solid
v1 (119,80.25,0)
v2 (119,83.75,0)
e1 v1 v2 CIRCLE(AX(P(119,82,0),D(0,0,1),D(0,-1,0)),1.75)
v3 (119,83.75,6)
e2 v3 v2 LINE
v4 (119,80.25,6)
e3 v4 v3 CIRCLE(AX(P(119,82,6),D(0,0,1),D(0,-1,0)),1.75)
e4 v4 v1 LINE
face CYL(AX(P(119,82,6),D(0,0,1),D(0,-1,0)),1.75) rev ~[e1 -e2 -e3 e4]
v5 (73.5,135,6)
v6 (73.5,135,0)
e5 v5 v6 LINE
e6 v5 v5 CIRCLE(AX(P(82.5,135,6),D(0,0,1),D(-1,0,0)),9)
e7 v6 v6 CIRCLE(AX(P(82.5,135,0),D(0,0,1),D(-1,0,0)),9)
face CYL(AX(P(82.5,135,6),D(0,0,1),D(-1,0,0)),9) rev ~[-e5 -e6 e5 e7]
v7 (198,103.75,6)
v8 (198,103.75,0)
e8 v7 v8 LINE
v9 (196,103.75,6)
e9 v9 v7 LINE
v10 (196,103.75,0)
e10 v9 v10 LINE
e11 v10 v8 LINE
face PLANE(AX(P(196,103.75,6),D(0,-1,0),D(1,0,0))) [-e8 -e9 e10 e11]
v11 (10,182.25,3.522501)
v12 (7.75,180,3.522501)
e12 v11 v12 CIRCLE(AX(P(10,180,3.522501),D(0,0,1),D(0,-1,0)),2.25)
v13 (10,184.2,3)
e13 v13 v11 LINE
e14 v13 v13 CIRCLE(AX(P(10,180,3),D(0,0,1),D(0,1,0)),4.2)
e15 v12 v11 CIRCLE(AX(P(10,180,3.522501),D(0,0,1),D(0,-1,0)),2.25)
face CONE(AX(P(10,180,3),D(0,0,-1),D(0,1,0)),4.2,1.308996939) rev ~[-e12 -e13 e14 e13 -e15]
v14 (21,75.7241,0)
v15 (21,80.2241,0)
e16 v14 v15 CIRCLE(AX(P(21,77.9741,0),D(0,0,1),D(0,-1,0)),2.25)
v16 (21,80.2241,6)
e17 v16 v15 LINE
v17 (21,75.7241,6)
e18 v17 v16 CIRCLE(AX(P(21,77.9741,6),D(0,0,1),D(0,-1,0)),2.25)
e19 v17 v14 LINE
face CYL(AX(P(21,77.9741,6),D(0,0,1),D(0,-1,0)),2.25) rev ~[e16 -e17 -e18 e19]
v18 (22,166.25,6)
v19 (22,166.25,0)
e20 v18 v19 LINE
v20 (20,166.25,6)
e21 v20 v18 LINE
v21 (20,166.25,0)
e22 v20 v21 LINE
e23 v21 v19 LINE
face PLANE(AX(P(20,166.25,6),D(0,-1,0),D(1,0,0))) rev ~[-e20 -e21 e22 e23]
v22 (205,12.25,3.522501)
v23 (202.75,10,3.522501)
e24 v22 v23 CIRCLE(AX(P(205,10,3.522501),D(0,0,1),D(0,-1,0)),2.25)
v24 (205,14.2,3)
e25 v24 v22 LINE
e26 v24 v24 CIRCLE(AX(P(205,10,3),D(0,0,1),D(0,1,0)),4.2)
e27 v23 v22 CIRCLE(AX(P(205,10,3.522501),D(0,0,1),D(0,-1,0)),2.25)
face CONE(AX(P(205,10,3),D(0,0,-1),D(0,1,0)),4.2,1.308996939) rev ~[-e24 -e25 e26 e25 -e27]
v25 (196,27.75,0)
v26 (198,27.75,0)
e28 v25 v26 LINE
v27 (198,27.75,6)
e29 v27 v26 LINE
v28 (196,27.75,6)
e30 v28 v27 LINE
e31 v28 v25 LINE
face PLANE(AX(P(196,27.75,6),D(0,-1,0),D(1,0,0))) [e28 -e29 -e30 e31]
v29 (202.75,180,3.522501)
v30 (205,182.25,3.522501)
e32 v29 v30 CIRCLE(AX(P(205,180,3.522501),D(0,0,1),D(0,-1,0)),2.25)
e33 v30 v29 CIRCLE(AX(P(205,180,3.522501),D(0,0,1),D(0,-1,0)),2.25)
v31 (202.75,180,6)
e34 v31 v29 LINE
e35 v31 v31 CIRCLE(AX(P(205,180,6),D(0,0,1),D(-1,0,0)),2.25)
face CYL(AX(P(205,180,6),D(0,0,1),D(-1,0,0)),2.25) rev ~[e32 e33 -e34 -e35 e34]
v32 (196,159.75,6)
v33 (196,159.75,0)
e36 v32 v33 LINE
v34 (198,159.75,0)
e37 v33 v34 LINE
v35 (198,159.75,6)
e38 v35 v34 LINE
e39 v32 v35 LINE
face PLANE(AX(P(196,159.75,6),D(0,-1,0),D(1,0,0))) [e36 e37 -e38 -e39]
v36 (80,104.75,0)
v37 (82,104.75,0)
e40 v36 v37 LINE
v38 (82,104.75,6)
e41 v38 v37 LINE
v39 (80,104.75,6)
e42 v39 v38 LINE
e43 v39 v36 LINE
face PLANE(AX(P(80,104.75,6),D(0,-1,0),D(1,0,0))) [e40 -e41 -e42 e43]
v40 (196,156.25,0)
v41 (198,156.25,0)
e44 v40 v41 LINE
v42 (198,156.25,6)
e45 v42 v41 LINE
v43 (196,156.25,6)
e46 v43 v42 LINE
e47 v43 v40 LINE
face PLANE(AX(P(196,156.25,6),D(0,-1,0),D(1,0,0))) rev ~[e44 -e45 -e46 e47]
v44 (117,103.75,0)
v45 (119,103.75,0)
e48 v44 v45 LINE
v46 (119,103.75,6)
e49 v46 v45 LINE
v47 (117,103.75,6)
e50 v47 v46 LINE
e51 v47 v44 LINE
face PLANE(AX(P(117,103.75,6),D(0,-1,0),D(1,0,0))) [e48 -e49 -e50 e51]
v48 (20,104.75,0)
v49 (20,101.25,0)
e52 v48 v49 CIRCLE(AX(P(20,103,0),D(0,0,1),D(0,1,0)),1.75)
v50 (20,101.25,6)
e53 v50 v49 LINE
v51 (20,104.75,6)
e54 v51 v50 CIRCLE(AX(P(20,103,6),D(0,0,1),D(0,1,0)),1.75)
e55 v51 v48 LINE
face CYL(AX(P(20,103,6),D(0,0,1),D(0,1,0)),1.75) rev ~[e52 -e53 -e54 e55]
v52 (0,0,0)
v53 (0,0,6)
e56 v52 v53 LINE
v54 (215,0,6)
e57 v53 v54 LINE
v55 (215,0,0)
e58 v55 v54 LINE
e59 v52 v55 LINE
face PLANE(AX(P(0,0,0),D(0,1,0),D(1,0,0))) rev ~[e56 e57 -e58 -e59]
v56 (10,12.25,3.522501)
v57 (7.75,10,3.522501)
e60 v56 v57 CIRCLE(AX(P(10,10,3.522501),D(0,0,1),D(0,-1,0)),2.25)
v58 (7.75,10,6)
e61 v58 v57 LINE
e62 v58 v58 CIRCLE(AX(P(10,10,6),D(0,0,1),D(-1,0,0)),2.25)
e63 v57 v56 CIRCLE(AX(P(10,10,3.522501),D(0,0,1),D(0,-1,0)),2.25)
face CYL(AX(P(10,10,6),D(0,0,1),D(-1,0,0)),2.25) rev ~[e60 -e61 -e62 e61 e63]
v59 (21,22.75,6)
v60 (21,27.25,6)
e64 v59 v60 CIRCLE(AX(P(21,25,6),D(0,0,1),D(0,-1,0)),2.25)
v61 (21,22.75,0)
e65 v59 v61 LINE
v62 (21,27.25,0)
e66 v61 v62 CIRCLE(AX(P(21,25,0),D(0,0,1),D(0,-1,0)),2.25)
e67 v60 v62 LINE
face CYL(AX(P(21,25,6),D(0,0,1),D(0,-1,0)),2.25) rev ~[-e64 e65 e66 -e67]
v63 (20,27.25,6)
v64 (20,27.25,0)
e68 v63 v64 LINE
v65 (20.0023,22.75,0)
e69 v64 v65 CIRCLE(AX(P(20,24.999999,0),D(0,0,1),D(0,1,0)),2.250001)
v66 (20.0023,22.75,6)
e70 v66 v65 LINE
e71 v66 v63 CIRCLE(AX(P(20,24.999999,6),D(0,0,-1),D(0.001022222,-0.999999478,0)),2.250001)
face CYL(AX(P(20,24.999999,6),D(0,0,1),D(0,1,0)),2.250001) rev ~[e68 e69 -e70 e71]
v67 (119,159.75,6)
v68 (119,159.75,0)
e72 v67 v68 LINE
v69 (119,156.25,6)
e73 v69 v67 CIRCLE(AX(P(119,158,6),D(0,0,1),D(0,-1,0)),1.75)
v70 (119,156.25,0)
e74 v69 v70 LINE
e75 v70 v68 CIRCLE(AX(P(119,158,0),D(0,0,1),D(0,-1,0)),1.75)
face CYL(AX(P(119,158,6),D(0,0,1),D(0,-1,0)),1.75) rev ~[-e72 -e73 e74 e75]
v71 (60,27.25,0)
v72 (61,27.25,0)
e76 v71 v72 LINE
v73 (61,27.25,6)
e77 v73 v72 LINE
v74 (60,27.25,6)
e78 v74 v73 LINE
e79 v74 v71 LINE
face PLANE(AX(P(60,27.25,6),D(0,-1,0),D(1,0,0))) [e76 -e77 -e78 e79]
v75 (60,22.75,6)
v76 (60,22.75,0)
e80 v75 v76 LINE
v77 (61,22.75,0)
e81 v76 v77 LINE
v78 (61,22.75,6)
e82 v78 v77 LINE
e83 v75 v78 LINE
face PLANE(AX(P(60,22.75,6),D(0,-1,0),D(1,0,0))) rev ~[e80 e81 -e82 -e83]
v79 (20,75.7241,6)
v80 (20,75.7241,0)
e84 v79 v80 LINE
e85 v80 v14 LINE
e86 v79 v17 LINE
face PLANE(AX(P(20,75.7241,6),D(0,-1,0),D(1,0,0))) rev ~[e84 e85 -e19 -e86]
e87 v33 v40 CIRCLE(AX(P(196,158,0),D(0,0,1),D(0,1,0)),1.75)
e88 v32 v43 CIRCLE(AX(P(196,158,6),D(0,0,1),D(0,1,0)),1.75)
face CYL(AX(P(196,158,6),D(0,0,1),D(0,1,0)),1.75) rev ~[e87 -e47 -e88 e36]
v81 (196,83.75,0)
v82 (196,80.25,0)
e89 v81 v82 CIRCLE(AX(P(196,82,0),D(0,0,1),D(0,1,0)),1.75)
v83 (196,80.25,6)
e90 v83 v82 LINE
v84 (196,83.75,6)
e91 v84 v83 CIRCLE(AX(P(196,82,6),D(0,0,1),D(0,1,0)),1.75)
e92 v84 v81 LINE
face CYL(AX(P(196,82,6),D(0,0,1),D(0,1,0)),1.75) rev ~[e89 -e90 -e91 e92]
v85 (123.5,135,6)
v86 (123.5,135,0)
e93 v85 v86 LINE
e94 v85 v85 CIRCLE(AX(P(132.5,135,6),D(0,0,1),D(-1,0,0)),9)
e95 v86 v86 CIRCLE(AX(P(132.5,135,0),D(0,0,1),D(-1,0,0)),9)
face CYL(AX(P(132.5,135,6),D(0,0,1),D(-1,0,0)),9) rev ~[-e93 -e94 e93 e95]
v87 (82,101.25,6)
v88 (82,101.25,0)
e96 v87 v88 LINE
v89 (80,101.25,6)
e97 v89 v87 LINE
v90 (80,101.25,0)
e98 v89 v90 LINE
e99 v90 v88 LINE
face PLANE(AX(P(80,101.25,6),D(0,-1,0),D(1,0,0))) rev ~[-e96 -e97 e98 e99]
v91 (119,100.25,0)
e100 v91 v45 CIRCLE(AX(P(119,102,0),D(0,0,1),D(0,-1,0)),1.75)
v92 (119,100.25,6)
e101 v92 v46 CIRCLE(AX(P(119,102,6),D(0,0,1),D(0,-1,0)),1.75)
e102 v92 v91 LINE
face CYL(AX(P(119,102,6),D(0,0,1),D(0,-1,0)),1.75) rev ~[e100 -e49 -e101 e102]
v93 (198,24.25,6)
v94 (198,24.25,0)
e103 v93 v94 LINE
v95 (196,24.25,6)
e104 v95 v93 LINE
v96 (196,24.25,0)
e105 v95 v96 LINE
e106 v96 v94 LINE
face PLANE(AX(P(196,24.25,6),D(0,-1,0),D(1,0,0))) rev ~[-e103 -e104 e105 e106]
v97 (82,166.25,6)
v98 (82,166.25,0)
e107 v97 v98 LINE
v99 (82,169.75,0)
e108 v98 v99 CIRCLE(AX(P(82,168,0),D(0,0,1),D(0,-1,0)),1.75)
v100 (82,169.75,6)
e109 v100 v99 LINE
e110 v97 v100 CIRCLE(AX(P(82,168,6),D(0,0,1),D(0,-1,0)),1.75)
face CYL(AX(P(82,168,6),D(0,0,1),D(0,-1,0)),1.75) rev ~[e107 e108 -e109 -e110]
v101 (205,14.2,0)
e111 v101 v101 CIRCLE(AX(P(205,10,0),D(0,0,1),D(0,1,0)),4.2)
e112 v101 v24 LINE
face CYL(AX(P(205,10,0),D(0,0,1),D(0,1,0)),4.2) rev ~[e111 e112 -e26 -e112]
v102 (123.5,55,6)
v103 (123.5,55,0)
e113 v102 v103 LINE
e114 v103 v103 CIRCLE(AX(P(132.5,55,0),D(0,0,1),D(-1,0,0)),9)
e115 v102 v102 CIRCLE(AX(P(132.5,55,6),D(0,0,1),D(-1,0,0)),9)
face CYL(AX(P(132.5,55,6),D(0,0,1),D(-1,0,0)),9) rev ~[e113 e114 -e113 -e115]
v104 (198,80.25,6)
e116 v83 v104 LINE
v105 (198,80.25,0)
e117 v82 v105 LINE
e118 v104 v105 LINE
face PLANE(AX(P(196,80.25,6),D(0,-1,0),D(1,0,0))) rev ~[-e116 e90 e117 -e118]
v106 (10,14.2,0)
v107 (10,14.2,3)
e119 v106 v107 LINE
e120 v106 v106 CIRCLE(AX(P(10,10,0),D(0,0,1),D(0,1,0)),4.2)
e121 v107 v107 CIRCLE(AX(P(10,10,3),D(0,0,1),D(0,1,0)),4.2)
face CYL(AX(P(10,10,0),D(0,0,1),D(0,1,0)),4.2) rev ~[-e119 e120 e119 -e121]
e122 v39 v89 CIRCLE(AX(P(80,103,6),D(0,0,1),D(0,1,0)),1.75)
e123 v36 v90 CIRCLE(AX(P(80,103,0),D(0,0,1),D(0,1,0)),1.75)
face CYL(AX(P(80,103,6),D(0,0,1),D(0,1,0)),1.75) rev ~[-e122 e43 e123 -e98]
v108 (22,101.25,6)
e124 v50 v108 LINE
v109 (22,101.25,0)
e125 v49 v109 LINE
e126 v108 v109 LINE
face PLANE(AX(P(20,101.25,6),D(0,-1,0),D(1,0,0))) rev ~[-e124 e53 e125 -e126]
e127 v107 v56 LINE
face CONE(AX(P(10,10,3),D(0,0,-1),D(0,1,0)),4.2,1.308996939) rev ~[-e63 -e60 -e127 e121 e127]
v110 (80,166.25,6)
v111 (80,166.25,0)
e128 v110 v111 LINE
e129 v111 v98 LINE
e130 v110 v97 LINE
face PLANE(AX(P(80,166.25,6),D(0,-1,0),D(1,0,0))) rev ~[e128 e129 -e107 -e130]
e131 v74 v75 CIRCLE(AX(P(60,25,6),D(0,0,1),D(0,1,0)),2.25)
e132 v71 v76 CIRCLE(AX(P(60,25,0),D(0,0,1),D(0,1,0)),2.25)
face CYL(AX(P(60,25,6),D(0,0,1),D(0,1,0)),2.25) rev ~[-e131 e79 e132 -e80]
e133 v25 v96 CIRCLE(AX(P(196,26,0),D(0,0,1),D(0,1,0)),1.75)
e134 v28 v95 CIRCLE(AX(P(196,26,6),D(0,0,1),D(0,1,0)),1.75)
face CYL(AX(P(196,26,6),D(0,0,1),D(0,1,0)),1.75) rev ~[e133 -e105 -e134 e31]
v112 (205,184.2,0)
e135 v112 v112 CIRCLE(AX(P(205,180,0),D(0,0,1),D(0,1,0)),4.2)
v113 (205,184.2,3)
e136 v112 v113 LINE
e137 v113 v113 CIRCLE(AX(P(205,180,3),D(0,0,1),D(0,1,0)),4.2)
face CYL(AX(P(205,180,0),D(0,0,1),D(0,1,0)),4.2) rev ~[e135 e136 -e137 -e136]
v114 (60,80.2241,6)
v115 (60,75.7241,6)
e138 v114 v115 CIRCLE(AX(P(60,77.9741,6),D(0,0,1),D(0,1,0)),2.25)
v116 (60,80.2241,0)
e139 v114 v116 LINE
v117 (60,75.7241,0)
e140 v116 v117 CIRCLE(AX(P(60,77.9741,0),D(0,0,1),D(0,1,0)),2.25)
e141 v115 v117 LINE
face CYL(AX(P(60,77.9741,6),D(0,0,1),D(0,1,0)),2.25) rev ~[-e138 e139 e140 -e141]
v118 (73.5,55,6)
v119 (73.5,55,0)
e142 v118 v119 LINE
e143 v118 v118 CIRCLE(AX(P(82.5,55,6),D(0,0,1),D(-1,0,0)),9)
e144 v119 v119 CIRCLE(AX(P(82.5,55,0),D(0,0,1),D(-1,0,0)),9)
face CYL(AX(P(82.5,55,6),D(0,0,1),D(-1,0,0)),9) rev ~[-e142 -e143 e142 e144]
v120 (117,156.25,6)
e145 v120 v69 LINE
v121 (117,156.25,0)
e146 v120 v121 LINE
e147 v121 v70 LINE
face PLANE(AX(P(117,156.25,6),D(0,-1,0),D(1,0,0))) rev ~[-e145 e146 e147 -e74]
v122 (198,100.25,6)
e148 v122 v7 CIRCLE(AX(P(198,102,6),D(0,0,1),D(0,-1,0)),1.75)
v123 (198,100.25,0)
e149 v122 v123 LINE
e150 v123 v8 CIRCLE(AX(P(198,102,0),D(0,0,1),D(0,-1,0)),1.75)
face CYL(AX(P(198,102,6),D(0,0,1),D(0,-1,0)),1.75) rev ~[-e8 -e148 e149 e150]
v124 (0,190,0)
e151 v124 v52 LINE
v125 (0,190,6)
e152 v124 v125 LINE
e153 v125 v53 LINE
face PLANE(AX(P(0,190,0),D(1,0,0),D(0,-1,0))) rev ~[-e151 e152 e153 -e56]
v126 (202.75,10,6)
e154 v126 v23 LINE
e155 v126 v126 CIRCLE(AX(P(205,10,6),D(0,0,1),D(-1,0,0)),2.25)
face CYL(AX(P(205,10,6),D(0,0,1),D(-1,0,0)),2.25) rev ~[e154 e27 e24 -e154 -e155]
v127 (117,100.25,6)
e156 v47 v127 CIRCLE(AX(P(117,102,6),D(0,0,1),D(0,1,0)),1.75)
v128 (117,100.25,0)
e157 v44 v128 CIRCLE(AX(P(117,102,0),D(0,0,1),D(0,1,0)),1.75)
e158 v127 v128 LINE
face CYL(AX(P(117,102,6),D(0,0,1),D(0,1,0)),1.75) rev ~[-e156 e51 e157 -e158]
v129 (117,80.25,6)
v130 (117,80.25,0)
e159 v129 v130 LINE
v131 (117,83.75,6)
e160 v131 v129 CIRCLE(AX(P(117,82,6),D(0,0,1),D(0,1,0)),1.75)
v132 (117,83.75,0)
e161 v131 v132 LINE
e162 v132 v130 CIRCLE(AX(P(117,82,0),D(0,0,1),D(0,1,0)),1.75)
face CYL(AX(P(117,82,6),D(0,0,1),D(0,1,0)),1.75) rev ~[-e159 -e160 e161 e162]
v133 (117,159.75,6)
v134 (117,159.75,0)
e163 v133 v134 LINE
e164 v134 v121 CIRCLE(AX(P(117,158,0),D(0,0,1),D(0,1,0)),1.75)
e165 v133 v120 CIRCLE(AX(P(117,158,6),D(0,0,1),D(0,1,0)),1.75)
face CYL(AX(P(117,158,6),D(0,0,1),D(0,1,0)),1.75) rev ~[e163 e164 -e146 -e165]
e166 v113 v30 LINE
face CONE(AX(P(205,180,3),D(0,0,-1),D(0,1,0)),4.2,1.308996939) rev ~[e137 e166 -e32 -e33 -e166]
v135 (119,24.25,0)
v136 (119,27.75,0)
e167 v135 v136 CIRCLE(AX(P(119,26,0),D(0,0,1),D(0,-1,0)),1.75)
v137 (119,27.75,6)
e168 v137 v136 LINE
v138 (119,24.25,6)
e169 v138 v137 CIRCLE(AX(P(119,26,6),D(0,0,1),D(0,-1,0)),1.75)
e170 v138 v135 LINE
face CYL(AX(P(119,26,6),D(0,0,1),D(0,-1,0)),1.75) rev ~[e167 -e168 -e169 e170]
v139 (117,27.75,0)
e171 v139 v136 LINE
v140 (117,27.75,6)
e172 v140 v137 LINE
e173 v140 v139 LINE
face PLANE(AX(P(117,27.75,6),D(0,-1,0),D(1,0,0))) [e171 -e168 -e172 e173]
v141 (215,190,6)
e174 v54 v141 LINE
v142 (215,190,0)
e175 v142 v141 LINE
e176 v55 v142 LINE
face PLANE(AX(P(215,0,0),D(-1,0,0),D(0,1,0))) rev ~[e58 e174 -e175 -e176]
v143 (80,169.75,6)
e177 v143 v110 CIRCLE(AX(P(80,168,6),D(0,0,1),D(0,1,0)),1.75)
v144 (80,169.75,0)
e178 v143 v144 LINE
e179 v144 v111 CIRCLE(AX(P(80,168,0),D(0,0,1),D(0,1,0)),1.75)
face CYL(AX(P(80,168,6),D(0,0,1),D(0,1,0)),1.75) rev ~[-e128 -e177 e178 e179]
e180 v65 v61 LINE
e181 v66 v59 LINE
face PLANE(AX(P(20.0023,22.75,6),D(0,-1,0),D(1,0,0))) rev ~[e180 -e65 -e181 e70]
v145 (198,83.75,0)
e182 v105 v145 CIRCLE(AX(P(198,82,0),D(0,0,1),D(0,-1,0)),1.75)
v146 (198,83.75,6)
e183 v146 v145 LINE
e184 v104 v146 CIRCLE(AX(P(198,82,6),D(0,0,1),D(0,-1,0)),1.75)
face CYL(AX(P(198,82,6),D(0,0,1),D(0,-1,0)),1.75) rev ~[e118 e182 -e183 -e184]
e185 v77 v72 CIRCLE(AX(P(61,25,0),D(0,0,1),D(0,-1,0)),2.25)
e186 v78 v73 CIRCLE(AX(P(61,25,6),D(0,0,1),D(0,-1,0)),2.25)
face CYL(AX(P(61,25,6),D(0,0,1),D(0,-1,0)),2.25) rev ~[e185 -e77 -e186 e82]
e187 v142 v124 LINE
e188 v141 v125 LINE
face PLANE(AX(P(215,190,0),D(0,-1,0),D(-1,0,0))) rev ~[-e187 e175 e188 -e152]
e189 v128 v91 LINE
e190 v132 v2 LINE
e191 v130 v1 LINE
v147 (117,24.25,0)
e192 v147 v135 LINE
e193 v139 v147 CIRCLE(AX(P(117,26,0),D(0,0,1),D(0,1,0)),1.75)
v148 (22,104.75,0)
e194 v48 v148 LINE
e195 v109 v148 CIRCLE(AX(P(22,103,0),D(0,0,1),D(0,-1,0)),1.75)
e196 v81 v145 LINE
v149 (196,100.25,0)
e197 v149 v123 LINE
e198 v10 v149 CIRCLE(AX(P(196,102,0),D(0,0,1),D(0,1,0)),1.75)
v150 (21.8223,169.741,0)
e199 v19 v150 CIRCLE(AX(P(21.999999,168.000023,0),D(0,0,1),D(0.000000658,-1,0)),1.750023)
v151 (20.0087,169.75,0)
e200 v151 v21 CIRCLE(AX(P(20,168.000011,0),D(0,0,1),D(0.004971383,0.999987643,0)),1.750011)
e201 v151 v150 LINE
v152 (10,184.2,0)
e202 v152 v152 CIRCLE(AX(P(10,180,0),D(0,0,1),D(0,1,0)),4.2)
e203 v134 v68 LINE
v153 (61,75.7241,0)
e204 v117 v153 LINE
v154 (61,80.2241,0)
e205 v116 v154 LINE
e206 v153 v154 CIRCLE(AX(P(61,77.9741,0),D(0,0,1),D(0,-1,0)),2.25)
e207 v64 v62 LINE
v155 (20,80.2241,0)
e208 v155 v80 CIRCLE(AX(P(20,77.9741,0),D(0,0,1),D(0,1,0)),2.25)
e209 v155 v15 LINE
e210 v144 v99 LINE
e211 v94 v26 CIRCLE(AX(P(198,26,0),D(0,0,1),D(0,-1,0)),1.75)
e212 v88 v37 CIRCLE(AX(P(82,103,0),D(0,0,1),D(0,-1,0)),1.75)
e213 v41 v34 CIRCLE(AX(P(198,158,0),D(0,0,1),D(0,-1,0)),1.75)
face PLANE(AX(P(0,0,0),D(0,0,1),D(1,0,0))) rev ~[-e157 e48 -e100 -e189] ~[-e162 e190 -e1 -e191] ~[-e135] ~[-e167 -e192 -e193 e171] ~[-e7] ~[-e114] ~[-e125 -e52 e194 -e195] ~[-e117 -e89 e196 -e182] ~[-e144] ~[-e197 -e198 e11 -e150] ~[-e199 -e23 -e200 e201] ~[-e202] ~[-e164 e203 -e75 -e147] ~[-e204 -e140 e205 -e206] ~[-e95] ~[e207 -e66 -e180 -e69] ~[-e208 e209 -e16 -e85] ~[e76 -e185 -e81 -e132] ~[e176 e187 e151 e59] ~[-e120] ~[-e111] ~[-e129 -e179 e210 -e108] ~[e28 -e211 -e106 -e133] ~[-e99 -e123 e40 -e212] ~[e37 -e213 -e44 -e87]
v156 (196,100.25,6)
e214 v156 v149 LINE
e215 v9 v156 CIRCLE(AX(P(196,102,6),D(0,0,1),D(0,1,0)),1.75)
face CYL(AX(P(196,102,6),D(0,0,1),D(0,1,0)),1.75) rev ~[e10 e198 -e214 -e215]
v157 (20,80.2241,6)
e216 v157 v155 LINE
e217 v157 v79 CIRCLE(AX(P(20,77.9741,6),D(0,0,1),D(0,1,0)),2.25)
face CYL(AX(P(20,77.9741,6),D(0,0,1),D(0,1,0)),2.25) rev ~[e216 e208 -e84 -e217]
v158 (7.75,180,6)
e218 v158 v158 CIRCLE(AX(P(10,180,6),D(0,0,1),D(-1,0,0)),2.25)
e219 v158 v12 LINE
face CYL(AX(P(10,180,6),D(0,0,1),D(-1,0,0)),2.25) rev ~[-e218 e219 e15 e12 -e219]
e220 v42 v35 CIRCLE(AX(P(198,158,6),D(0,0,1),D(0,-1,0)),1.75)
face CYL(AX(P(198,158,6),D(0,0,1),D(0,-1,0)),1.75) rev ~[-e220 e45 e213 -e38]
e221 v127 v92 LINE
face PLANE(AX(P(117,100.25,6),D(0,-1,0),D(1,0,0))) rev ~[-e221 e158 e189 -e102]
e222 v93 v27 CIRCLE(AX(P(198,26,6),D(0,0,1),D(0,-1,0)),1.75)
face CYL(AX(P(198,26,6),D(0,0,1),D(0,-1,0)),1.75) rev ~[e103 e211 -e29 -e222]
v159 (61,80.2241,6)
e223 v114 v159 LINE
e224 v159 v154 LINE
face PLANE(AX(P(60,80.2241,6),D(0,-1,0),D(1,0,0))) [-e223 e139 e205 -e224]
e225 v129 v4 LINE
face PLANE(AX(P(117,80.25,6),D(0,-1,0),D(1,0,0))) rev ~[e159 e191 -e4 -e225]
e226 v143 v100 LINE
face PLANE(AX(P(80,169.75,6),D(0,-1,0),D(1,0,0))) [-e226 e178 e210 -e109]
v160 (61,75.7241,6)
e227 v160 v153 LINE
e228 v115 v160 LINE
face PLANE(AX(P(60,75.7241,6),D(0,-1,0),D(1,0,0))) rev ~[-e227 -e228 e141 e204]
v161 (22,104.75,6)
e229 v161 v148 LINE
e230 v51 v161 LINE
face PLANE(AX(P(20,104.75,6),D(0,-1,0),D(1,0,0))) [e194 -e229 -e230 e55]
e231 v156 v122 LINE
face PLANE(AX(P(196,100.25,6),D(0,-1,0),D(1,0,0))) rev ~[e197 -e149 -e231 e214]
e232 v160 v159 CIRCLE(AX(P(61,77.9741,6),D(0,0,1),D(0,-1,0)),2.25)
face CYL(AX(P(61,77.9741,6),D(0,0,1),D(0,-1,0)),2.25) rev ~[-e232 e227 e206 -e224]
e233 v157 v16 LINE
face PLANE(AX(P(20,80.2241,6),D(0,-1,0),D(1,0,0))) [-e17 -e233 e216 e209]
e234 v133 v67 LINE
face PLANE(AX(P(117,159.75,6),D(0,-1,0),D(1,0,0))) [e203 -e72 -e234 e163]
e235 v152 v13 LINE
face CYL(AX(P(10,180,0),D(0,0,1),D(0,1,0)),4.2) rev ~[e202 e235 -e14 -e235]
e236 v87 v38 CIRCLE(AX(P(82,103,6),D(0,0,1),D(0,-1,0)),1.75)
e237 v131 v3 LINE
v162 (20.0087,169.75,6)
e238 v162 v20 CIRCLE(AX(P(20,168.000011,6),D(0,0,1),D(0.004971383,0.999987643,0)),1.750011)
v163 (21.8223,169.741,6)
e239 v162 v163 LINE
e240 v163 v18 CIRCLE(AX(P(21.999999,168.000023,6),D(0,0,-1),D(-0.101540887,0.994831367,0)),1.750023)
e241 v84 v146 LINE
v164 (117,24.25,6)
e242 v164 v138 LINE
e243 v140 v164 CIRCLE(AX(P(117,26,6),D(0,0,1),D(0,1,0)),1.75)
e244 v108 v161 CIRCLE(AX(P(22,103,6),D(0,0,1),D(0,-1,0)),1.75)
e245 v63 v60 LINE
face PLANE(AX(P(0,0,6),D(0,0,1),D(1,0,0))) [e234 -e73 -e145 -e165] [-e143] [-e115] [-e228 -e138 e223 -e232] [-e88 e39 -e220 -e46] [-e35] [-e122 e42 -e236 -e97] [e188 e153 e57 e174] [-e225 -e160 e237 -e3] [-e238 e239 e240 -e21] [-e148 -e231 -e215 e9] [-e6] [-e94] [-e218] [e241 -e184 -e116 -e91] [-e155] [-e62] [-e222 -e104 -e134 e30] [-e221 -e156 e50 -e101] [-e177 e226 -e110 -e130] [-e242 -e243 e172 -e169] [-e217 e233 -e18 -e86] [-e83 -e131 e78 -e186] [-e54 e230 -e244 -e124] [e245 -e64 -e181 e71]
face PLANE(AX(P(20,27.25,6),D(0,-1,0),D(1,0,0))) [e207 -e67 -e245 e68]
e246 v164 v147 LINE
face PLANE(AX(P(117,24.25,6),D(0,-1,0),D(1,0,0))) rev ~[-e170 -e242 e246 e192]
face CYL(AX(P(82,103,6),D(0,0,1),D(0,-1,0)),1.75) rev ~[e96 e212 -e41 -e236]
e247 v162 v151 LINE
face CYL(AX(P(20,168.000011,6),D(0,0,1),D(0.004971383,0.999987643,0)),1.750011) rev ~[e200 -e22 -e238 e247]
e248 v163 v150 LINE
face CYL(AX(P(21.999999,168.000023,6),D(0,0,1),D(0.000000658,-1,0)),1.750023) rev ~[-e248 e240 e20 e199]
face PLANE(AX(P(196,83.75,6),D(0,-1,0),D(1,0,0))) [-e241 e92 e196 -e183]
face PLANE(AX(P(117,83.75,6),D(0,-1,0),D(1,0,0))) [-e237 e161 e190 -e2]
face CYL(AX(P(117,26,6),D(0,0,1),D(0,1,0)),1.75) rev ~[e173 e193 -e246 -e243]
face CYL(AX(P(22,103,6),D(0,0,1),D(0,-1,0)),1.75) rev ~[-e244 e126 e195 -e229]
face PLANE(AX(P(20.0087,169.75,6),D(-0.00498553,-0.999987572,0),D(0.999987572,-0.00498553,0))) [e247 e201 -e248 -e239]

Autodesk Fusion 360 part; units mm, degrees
sketch "Sketch1" plane through (0, 0, 0) normal (0, 0, 1) x (1, 0, 0) in component "Front"
  line L0 (0, 0) -> (230, 0)
  line L1 (230, 0) -> (230, 200)
  line L2 (230, 200) -> (0, 200)
  line L3 (0, 200) -> (0, 0)
  dimension "d3" = 200
  dimension "d4" = 230
sketch "Sketch2" plane through (0, 0, 0) normal (0, 0, 1) x (1, 0, 0) in component "Front"
  line L0 (0, 0) -> (215, 0)
  line L1 (215, 0) -> (215, 190)
  line L2 (215, 190) -> (0, 190)
  line L3 (0, 190) -> (0, 0)
  dimension "d20" = 215
  dimension "d21" = 190
extrude "Extrude1" add sketch "Sketch2" along normal blind 6 in component "Front"
sketch "Sketch3" plane through (0, 0, 6) normal (0, 0, 1) x (-1, 0, 0) in component "Front"
  line L0 (0, -190) -> (0, 0)
  line L1 (0, 0) -> (-215, 0)
  line L2 (-215, 0) -> (-215, -190)
  line L3 (-215, -190) -> (0, -190)
  line L4 (0, -190) -> (0, 0)
  line L5 (-20, -25) -> (-60, -25) construction
  line L6 (-20, -25) -> (-20, -78) construction
  line L7 (-107.5, -190) -> (-107.5, 0) construction
  line L8 (-20, -78) -> (-20, -103) construction
  line L9 (-20, -103) -> (-20, -168) construction
  line L10 (-20, -103) -> (-80, -103) construction
  line L11 (-20.0087, -169.75) -> (-22.195, -169.7391)
  line L12 (-20, -166.25) -> (-22, -166.25)
  line L13 (-80, -169.75) -> (-82, -169.75)
  line L14 (-80, -166.25) -> (-82.1073, -166.25)
  line L15 (-20, -104.75) -> (-22, -104.75)
  line L16 (-20, -101.25) -> (-22, -101.25)
  line L17 (-80, -104.75) -> (-82, -104.75)
  line L18 (-80, -101.25) -> (-82, -101.25)
  arc A0 (-82, -101.25) -> (-82, -104.75) centre (-82, -103) ccw
  arc A1 (-80, -104.75) -> (-80, -101.25) centre (-80, -103) ccw
  arc A2 (-20, -104.75) -> (-20, -101.25) centre (-20, -103) ccw
  arc A3 (-22, -101.25) -> (-22, -104.75) centre (-22, -103) ccw
  arc A4 (-20.0087, -169.75) -> (-20, -166.25) centre (-20, -168) ccw
  arc A5 (-22, -166.25) -> (-21.8223, -169.741) centre (-22, -168) ccw
  line L19 (-20, -168) -> (-20.25, -168) construction
  line L20 (-21.75, -168) -> (-80, -168) construction
  arc A6 (-80, -169.75) -> (-80, -166.25) centre (-80, -168) ccw
  arc A7 (-82, -166.25) -> (-82, -169.75) centre (-82, -168) ccw
  line L21 (-20, -80.2241) -> (-21, -80.2241)
  line L22 (-20, -75.7241) -> (-21.2396, -75.7241)
  arc A8 (-20, -80.2241) -> (-20, -75.7241) centre (-20, -77.9741) ccw
  arc A9 (-21, -75.7241) -> (-21, -80.2241) centre (-21, -77.9741) ccw
  line L23 (-60, -22.75) -> (-61, -22.75)
  line L24 (-60, -27.25) -> (-61, -27.25)
  line L25 (-60, -75.7241) -> (-61, -75.7241)
  line L26 (-60, -80.2241) -> (-61, -80.2241)
  arc A10 (-61, -75.7241) -> (-61, -80.2241) centre (-61, -77.9741) ccw
  arc A11 (-60, -80.2241) -> (-60, -75.7241) centre (-60, -77.9741) ccw
  arc A12 (-60, -27.25) -> (-60, -22.75) centre (-60, -25) ccw
  arc A13 (-60, -27.25) -> (-60, -22.75) centre (-60, -25) ccw
  arc A14 (-60, -27.25) -> (-60, -22.75) centre (-60, -25) ccw
  arc A15 (-61, -22.75) -> (-61, -27.25) centre (-61, -25) ccw
  arc A16 (-20, -27.25) -> (-20.0023, -22.75) centre (-20, -25) ccw
  arc A17 (-20, -27.25) -> (-20.0023, -22.75) centre (-20, -25) ccw
  line L27 (-20, -27.25) -> (-21, -27.25)
  line L28 (-19.9977, -22.75) -> (-21, -22.75)
  arc A18 (-21, -22.75) -> (-21, -27.25) centre (-21, -25) ccw
  arc A19 (-20, -27.25) -> (-19.9977, -22.75) centre (-20, -25) ccw
  arc A20 (-119, -156.25) -> (-119, -159.75) centre (-119, -158) ccw
  line L29 (-117, -159.75) -> (-119, -159.75)
  arc A21 (-117, -159.75) -> (-117, -156.25) centre (-117, -158) ccw
  line L30 (-117, -156.25) -> (-119.1073, -156.25)
  line L31 (-119, -158) -> (-198, -158) construction
  arc A22 (-198, -156.25) -> (-198, -159.75) centre (-198, -158) ccw
  line L32 (-196, -156.25) -> (-198.1073, -156.25)
  line L33 (-196, -159.75) -> (-198, -159.75)
  arc A23 (-196, -159.75) -> (-196, -156.25) centre (-196, -158) ccw
  line L34 (-119, -158) -> (-119, -102) construction
  line L35 (-117, -100.25) -> (-119.1073, -100.25)
  arc A24 (-117, -103.75) -> (-117, -100.25) centre (-117, -102) ccw
  line L36 (-117, -103.75) -> (-119, -103.75)
  arc A25 (-119, -100.25) -> (-119, -103.75) centre (-119, -102) ccw
  arc A26 (-196, -103.75) -> (-196, -100.25) centre (-196, -102) ccw
  line L37 (-196, -100.25) -> (-198.1073, -100.25)
  arc A27 (-198, -100.25) -> (-198, -103.75) centre (-198, -102) ccw
  line L38 (-196, -103.75) -> (-198, -103.75)
  line L39 (-196, -24.25) -> (-198.1073, -24.25)
  line L40 (-119, -82) -> (-198, -82) construction
  arc A28 (-117, -27.75) -> (-117, -24.25) centre (-117, -26) ccw
  line L41 (-119, -82) -> (-119, -26) construction
  line L42 (-196, -80.25) -> (-198.1073, -80.25)
  arc A29 (-119, -80.25) -> (-119, -83.75) centre (-119, -82) ccw
  line L43 (-117, -27.75) -> (-119, -27.75)
  arc A30 (-119, -24.25) -> (-119, -27.75) centre (-119, -26) ccw
  line L44 (-196, -83.75) -> (-198, -83.75)
  line L45 (-117, -24.25) -> (-119.1073, -24.25)
  line L46 (-196, -27.75) -> (-198, -27.75)
  arc A31 (-196, -83.75) -> (-196, -80.25) centre (-196, -82) ccw
  arc A32 (-198, -24.25) -> (-198, -27.75) centre (-198, -26) ccw
  arc A33 (-198, -80.25) -> (-198, -83.75) centre (-198, -82) ccw
  arc A34 (-196, -27.75) -> (-196, -24.25) centre (-196, -26) ccw
  line L47 (-117, -83.75) -> (-119, -83.75)
  arc A35 (-117, -83.75) -> (-117, -80.25) centre (-117, -82) ccw
  line L48 (-117, -80.25) -> (-119.1073, -80.25)
  line L49 (-107.5, -95) -> (0, -95) construction
  circle A36 centre (-10, -180) radius 2.25
  circle A37 centre (-10, -10) radius 2.25
  circle A38 centre (-205, -180) radius 2.25
  circle A39 centre (-205, -10) radius 2.25
  line L50 (-107.5, -95) -> (-132.5, -95) construction
  line L51 (-132.5, -95) -> (-132.5, -135) construction
  line L52 (-132.5, -95) -> (-215, -95) construction
  circle A40 centre (-132.5, -135) radius 9
  circle A41 centre (-132.5, -55) radius 9
  circle A42 centre (-82.5, -135) radius 9
  circle A43 centre (-82.5, -55) radius 9
  line L53 (-82.5, -135) -> (-132.5, -135) construction
  dimension "d26" = 4.5
  dimension "d27" = 40
  dimension "d29" = 53
  dimension "d31" = 4.5
  dimension "d34" = 4.5
  dimension "d36" = 25
  dimension "d37" = 3.5
  dimension "d38" = 65
  dimension "d39" = 3.5
  dimension "d40" = 60
  dimension "d41" = 3.5
  dimension "d42" = 60
  dimension "d44" = 3.5
  dimension "d45" = 3.5
  dimension "d46" = 3.5
  dimension "d47" = 3.5
  dimension "d51" = 4.5
  dimension "d52" = 215
  dimension "d56" = 3.5
  dimension "d57" = 79
  dimension "d60" = 3.5
  dimension "d61" = 56
  dimension "d62" = 3.5
  dimension "d63" = 3.5
  dimension "d64" = 3.5
  dimension "d65" = 79
  dimension "d66" = 3.5
  dimension "d67" = 56
  dimension "d68" = 3.5
  dimension "d69" = 3.5
  dimension "d74" = 4.5
  dimension "d75" = 25
  dimension "d76" = 190
  dimension "d77" = 40
  dimension "d78" = 18
  dimension "d79" = 50
extrude "Extrude2" cut sketch "Sketch3" against normal blind 7 contours L11 L12 A4 A5 | L11 A5 | L13 L14 A6 A7 | L15 L16 A2 A3 | L17 L18 A0 A1 | L21 L22 A8 A9 | L23 L24 A12 A13 A14 A15 | L25 L26 A10 A11 | A16 A17 L27 L28 A18 A19 | A20 L29 A21 L30 | A22 L32 L33 A23 | L35 A24 L36 A25 | A26 L37 A27 L38 | L39 L46 A32 A34 | A28 L43 A30 L45 | L42 L44 A31 A33 | A29 L47 A35 L48 | A36 | A37 | A38 | A39 | A40 | A41 | A42 | A43 in component "Front"
sketch "Sketch4" plane through (0, 0, 0) normal (0, 0, -1) x (1, 0, 0) in component "Front"
  line L0 (117, -24.25) -> (119, -24.25)
  arc A0 (119, -27.75) -> (119, -24.25) centre (119, -26) ccw
  line L1 (119, -27.75) -> (117, -27.75)
  arc A1 (117, -24.25) -> (117, -27.75) centre (117, -26) ccw
  circle A2 centre (132.5, -135) radius 9
  line L2 (60, -75.7241) -> (61, -75.7241)
  arc A3 (61, -80.2241) -> (61, -75.7241) centre (61, -77.9741) ccw
  line L3 (61, -80.2241) -> (60, -80.2241)
  arc A4 (60, -75.7241) -> (60, -80.2241) centre (60, -77.9741) ccw
  line L4 (117, -100.25) -> (119, -100.25)
  arc A5 (119, -103.75) -> (119, -100.25) centre (119, -102) ccw
  line L5 (119, -103.75) -> (117, -103.75)
  arc A6 (117, -100.25) -> (117, -103.75) centre (117, -102) ccw
  line L6 (20, -101.25) -> (22, -101.25)
  arc A7 (22, -104.75) -> (22, -101.25) centre (22, -103) ccw
  line L7 (22, -104.75) -> (20, -104.75)
  arc A8 (20, -101.25) -> (20, -104.75) centre (20, -103) ccw
  line L8 (20, -166.25) -> (22, -166.25)
  arc A9 (21.8223, -169.741) -> (22, -166.25) centre (22, -168) ccw
  line L9 (21.8223, -169.741) -> (20.0087, -169.75)
  arc A10 (20, -166.25) -> (20.0087, -169.75) centre (20, -168) ccw
  line L10 (80, -166.25) -> (82, -166.25)
  arc A11 (82, -169.75) -> (82, -166.25) centre (82, -168) ccw
  line L11 (82, -169.75) -> (80, -169.75)
  arc A12 (80, -166.25) -> (80, -169.75) centre (80, -168) ccw
  circle A13 centre (205, -180) radius 2.25
  arc A14 (198, -103.75) -> (198, -100.25) centre (198, -102) ccw
  line L12 (198, -103.75) -> (196, -103.75)
  arc A15 (196, -100.25) -> (196, -103.75) centre (196, -102) ccw
  line L13 (196, -100.25) -> (198, -100.25)
  line L14 (20, -75.7241) -> (21, -75.7241)
  arc A16 (21, -80.2241) -> (21, -75.7241) centre (21, -77.9741) ccw
  line L15 (21, -80.2241) -> (20, -80.2241)
  arc A17 (20, -75.7241) -> (20, -80.2241) centre (20, -77.9741) ccw
  circle A18 centre (10, -10) radius 2.25
  line L16 (196, -24.25) -> (198, -24.25)
  arc A19 (198, -27.75) -> (198, -24.25) centre (198, -26) ccw
  line L17 (198, -27.75) -> (196, -27.75)
  arc A20 (196, -24.25) -> (196, -27.75) centre (196, -26) ccw
  line L18 (60, -22.75) -> (61, -22.75)
  arc A21 (61, -27.25) -> (61, -22.75) centre (61, -25) ccw
  line L19 (61, -27.25) -> (60, -27.25)
  arc A22 (60, -22.75) -> (60, -27.25) centre (60, -25) ccw
  circle A23 centre (132.5, -55) radius 9
  line L20 (117, -80.25) -> (119, -80.25)
  arc A24 (119, -83.75) -> (119, -80.25) centre (119, -82) ccw
  line L21 (119, -83.75) -> (117, -83.75)
  arc A25 (117, -80.25) -> (117, -83.75) centre (117, -82) ccw
  line L22 (117, -156.25) -> (119, -156.25)
  arc A26 (119, -159.75) -> (119, -156.25) centre (119, -158) ccw
  line L23 (119, -159.75) -> (117, -159.75)
  arc A27 (117, -156.25) -> (117, -159.75) centre (117, -158) ccw
  line L24 (80, -101.25) -> (82, -101.25)
  arc A28 (82, -104.75) -> (82, -101.25) centre (82, -103) ccw
  line L25 (82, -104.75) -> (80, -104.75)
  arc A29 (80, -101.25) -> (80, -104.75) centre (80, -103) ccw
  circle A30 centre (10, -180) radius 2.25
  circle A31 centre (82.5, -135) radius 9
  line L26 (196, -156.25) -> (198, -156.25)
  arc A32 (198, -159.75) -> (198, -156.25) centre (198, -158) ccw
  line L27 (198, -159.75) -> (196, -159.75)
  arc A33 (196, -156.25) -> (196, -159.75) centre (196, -158) ccw
  line L28 (196, -80.25) -> (198, -80.25)
  arc A34 (198, -83.75) -> (198, -80.25) centre (198, -82) ccw
  line L29 (198, -83.75) -> (196, -83.75)
  arc A35 (196, -80.25) -> (196, -83.75) centre (196, -82) ccw
  circle A36 centre (82.5, -55) radius 9
  line L30 (19.9977, -22.75) -> (21, -22.75)
  arc A37 (21, -27.25) -> (21, -22.75) centre (21, -25) ccw
  line L31 (21, -27.25) -> (20, -27.25)
  arc A38 (19.9977, -22.75) -> (20, -27.25) centre (20, -25) ccw
  circle A39 centre (205, -10) radius 2.25
  line L32 (0, 0) -> (0, -190)
  line L33 (0, -190) -> (215, -190)
  line L34 (215, -190) -> (215, 0)
  line L35 (215, 0) -> (0, 0)
hole "Hole1" at (10, 10, 0) at (205, 10, 0) at (205, 180, 0) at (10, 180, 0) direction (0, 0, 1) diameter 8.4 depth 3 tip angle 150 in component "Front"
sketch "Sketch5" plane through (0, 0, 0) normal (0, 0, -1) x (1, 0, 0) in component "Front"
  circle A0 centre (205, -180) radius 4.2
  circle A1 centre (10, -10) radius 4.2
  circle A2 centre (205, -10) radius 4.2
  circle A3 centre (10, -180) radius 4.2
  line L0 (117, -24.25) -> (119, -24.25)
  arc A4 (119, -27.75) -> (119, -24.25) centre (119, -26) ccw
  line L1 (119, -27.75) -> (117, -27.75)
  arc A5 (117, -24.25) -> (117, -27.75) centre (117, -26) ccw
  circle A6 centre (132.5, -135) radius 9
  line L2 (60, -75.7241) -> (61, -75.7241)
  arc A7 (61, -80.2241) -> (61, -75.7241) centre (61, -77.9741) ccw
  line L3 (61, -80.2241) -> (60, -80.2241)
  arc A8 (60, -75.7241) -> (60, -80.2241) centre (60, -77.9741) ccw
  line L4 (117, -100.25) -> (119, -100.25)
  arc A9 (119, -103.75) -> (119, -100.25) centre (119, -102) ccw
  line L5 (119, -103.75) -> (117, -103.75)
  arc A10 (117, -100.25) -> (117, -103.75) centre (117, -102) ccw
  line L6 (20, -101.25) -> (22, -101.25)
  arc A11 (22, -104.75) -> (22, -101.25) centre (22, -103) ccw
  line L7 (22, -104.75) -> (20, -104.75)
  arc A12 (20, -101.25) -> (20, -104.75) centre (20, -103) ccw
  line L8 (20, -166.25) -> (22, -166.25)
  arc A13 (21.8223, -169.741) -> (22, -166.25) centre (22, -168) ccw
  line L9 (21.8223, -169.741) -> (20.0087, -169.75)
  arc A14 (20, -166.25) -> (20.0087, -169.75) centre (20, -168) ccw
  line L10 (80, -166.25) -> (82, -166.25)
  arc A15 (82, -169.75) -> (82, -166.25) centre (82, -168) ccw
  line L11 (82, -169.75) -> (80, -169.75)
  arc A16 (80, -166.25) -> (80, -169.75) centre (80, -168) ccw
  arc A17 (198, -103.75) -> (198, -100.25) centre (198, -102) ccw
  line L12 (198, -103.75) -> (196, -103.75)
  arc A18 (196, -100.25) -> (196, -103.75) centre (196, -102) ccw
  line L13 (196, -100.25) -> (198, -100.25)
  line L14 (20, -75.7241) -> (21, -75.7241)
  arc A19 (21, -80.2241) -> (21, -75.7241) centre (21, -77.9741) ccw
  line L15 (21, -80.2241) -> (20, -80.2241)
  arc A20 (20, -75.7241) -> (20, -80.2241) centre (20, -77.9741) ccw
  line L16 (196, -24.25) -> (198, -24.25)
  arc A21 (198, -27.75) -> (198, -24.25) centre (198, -26) ccw
  line L17 (198, -27.75) -> (196, -27.75)
  arc A22 (196, -24.25) -> (196, -27.75) centre (196, -26) ccw
  line L18 (60, -22.75) -> (61, -22.75)
  arc A23 (61, -27.25) -> (61, -22.75) centre (61, -25) ccw
  line L19 (61, -27.25) -> (60, -27.25)
  arc A24 (60, -22.75) -> (60, -27.25) centre (60, -25) ccw
  circle A25 centre (132.5, -55) radius 9
  line L20 (117, -80.25) -> (119, -80.25)
  arc A26 (119, -83.75) -> (119, -80.25) centre (119, -82) ccw
  line L21 (119, -83.75) -> (117, -83.75)
  arc A27 (117, -80.25) -> (117, -83.75) centre (117, -82) ccw
  line L22 (117, -156.25) -> (119, -156.25)
  arc A28 (119, -159.75) -> (119, -156.25) centre (119, -158) ccw
  line L23 (119, -159.75) -> (117, -159.75)
  arc A29 (117, -156.25) -> (117, -159.75) centre (117, -158) ccw
  line L24 (80, -101.25) -> (82, -101.25)
  arc A30 (82, -104.75) -> (82, -101.25) centre (82, -103) ccw
  line L25 (82, -104.75) -> (80, -104.75)
  arc A31 (80, -101.25) -> (80, -104.75) centre (80, -103) ccw
  circle A32 centre (82.5, -135) radius 9
  line L26 (196, -156.25) -> (198, -156.25)
  arc A33 (198, -159.75) -> (198, -156.25) centre (198, -158) ccw
  line L27 (198, -159.75) -> (196, -159.75)
  arc A34 (196, -156.25) -> (196, -159.75) centre (196, -158) ccw
  line L28 (196, -80.25) -> (198, -80.25)
  arc A35 (198, -83.75) -> (198, -80.25) centre (198, -82) ccw
  line L29 (198, -83.75) -> (196, -83.75)
  arc A36 (196, -80.25) -> (196, -83.75) centre (196, -82) ccw
  circle A37 centre (82.5, -55) radius 9
  line L30 (19.9977, -22.75) -> (21, -22.75)
  arc A38 (21, -27.25) -> (21, -22.75) centre (21, -25) ccw
  line L31 (21, -27.25) -> (20, -27.25)
  arc A39 (19.9977, -22.75) -> (20, -27.25) centre (20, -25) ccw
  line L32 (0, 0) -> (0, -190)
  line L33 (0, -190) -> (215, -190)
  line L34 (215, -190) -> (215, 0)
  line L35 (215, 0) -> (0, 0)
  line L36 (0, -160) -> (10, -160)
  line L37 (10, -160) -> (10, -114)
  line L38 (10, -114) -> (0, -114)
  line L39 (0, -114) -> (0, -160)
  line L40 (107.5, -190) -> (107.5, 0) construction
  line L41 (0, -95) -> (215, -95) construction
  line L42 (205, -160) -> (205, -114)
  line L43 (205, -114) -> (215, -114)
  line L44 (215, -114) -> (215, -160)
  line L45 (215, -160) -> (205, -160)
  line L46 (107.5, 0) -> (118.5, 0) construction
  line L47 (107.5, 0) -> (96.5, 0) construction
  line L48 (96.5, 0) -> (118.5, 0)
  line L49 (118.5, 0) -> (118.5, -17.4665)
  line L50 (118.5, -17.4665) -> (96.5, -17.4665)
  line L51 (96.5, -17.4665) -> (96.5, 0)
  dimension "d85" = 10
  dimension "d86" = 46
  dimension "d87" = 11
  dimension "d88" = 11
extrude "Extrude3" [suppressed] in component "Front"
component "Front" placed x (1, 0, 0) y (0, 1, 0) z (0, 0, 1) at (0, 0, 0)
equation "base_thick = 5 mm" comment "base thickeness"
equation "d_small_hole = 3.5 mm" comment "holes for board"
equation "d_medium_hole = 4.5 mm" comment "hole for pillar"
equation "d_big_holes = 18 mm" comment "holes for big cables"
equation "d_motor_external_hole = 7 mm" comment "external where you attach the motors"
equation "b_motore_ext = 46 mm" comment "base of the moto, or external diameter for soppert"
equation "b_motore_int = 38 mm" comment "base of the moto, or internal diameter for soppert"
equation "distance_center_motor = 9.5 mm" comment "distance from the end of motor supprt and the start of th eholes for motor"
equation "side_square = 22 mm" comment "support for bearing"
equation "d_minus_bearing = 6 mm"
equation "d_medium_bearing = 12 mm"
equation "d_bearing = 19 mm"
equation "d_pillar = 8.4 mm"
equation "Length = 215 mm"
equation "Height = 190 mm"
equation "d20 = Length"
equation "d21 = Height"
equation "d26 = d_medium_hole"
equation "d31 = d_medium_hole"
equation "d34 = d_medium_hole"
equation "d37 = d_small_hole"
equation "d39 = d_small_hole"
equation "d41 = d_small_hole"
equation "d44 = d_small_hole"
equation "d45 = d_small_hole"
equation "d46 = d_small_hole"
equation "d47 = d_small_hole"
equation "d51 = d_medium_hole"
equation "d56 = d_small_hole"
equation "d60 = d_small_hole"
equation "d62 = d_small_hole"
equation "d63 = d_small_hole"
equation "d64 = d_small_hole"
equation "d66 = d_small_hole"
equation "d68 = d_small_hole"
equation "d69 = d_small_hole"
equation "d74 = d_medium_hole"
equation "d78 = d_big_holes"
equation "d83 = d_pillar"
